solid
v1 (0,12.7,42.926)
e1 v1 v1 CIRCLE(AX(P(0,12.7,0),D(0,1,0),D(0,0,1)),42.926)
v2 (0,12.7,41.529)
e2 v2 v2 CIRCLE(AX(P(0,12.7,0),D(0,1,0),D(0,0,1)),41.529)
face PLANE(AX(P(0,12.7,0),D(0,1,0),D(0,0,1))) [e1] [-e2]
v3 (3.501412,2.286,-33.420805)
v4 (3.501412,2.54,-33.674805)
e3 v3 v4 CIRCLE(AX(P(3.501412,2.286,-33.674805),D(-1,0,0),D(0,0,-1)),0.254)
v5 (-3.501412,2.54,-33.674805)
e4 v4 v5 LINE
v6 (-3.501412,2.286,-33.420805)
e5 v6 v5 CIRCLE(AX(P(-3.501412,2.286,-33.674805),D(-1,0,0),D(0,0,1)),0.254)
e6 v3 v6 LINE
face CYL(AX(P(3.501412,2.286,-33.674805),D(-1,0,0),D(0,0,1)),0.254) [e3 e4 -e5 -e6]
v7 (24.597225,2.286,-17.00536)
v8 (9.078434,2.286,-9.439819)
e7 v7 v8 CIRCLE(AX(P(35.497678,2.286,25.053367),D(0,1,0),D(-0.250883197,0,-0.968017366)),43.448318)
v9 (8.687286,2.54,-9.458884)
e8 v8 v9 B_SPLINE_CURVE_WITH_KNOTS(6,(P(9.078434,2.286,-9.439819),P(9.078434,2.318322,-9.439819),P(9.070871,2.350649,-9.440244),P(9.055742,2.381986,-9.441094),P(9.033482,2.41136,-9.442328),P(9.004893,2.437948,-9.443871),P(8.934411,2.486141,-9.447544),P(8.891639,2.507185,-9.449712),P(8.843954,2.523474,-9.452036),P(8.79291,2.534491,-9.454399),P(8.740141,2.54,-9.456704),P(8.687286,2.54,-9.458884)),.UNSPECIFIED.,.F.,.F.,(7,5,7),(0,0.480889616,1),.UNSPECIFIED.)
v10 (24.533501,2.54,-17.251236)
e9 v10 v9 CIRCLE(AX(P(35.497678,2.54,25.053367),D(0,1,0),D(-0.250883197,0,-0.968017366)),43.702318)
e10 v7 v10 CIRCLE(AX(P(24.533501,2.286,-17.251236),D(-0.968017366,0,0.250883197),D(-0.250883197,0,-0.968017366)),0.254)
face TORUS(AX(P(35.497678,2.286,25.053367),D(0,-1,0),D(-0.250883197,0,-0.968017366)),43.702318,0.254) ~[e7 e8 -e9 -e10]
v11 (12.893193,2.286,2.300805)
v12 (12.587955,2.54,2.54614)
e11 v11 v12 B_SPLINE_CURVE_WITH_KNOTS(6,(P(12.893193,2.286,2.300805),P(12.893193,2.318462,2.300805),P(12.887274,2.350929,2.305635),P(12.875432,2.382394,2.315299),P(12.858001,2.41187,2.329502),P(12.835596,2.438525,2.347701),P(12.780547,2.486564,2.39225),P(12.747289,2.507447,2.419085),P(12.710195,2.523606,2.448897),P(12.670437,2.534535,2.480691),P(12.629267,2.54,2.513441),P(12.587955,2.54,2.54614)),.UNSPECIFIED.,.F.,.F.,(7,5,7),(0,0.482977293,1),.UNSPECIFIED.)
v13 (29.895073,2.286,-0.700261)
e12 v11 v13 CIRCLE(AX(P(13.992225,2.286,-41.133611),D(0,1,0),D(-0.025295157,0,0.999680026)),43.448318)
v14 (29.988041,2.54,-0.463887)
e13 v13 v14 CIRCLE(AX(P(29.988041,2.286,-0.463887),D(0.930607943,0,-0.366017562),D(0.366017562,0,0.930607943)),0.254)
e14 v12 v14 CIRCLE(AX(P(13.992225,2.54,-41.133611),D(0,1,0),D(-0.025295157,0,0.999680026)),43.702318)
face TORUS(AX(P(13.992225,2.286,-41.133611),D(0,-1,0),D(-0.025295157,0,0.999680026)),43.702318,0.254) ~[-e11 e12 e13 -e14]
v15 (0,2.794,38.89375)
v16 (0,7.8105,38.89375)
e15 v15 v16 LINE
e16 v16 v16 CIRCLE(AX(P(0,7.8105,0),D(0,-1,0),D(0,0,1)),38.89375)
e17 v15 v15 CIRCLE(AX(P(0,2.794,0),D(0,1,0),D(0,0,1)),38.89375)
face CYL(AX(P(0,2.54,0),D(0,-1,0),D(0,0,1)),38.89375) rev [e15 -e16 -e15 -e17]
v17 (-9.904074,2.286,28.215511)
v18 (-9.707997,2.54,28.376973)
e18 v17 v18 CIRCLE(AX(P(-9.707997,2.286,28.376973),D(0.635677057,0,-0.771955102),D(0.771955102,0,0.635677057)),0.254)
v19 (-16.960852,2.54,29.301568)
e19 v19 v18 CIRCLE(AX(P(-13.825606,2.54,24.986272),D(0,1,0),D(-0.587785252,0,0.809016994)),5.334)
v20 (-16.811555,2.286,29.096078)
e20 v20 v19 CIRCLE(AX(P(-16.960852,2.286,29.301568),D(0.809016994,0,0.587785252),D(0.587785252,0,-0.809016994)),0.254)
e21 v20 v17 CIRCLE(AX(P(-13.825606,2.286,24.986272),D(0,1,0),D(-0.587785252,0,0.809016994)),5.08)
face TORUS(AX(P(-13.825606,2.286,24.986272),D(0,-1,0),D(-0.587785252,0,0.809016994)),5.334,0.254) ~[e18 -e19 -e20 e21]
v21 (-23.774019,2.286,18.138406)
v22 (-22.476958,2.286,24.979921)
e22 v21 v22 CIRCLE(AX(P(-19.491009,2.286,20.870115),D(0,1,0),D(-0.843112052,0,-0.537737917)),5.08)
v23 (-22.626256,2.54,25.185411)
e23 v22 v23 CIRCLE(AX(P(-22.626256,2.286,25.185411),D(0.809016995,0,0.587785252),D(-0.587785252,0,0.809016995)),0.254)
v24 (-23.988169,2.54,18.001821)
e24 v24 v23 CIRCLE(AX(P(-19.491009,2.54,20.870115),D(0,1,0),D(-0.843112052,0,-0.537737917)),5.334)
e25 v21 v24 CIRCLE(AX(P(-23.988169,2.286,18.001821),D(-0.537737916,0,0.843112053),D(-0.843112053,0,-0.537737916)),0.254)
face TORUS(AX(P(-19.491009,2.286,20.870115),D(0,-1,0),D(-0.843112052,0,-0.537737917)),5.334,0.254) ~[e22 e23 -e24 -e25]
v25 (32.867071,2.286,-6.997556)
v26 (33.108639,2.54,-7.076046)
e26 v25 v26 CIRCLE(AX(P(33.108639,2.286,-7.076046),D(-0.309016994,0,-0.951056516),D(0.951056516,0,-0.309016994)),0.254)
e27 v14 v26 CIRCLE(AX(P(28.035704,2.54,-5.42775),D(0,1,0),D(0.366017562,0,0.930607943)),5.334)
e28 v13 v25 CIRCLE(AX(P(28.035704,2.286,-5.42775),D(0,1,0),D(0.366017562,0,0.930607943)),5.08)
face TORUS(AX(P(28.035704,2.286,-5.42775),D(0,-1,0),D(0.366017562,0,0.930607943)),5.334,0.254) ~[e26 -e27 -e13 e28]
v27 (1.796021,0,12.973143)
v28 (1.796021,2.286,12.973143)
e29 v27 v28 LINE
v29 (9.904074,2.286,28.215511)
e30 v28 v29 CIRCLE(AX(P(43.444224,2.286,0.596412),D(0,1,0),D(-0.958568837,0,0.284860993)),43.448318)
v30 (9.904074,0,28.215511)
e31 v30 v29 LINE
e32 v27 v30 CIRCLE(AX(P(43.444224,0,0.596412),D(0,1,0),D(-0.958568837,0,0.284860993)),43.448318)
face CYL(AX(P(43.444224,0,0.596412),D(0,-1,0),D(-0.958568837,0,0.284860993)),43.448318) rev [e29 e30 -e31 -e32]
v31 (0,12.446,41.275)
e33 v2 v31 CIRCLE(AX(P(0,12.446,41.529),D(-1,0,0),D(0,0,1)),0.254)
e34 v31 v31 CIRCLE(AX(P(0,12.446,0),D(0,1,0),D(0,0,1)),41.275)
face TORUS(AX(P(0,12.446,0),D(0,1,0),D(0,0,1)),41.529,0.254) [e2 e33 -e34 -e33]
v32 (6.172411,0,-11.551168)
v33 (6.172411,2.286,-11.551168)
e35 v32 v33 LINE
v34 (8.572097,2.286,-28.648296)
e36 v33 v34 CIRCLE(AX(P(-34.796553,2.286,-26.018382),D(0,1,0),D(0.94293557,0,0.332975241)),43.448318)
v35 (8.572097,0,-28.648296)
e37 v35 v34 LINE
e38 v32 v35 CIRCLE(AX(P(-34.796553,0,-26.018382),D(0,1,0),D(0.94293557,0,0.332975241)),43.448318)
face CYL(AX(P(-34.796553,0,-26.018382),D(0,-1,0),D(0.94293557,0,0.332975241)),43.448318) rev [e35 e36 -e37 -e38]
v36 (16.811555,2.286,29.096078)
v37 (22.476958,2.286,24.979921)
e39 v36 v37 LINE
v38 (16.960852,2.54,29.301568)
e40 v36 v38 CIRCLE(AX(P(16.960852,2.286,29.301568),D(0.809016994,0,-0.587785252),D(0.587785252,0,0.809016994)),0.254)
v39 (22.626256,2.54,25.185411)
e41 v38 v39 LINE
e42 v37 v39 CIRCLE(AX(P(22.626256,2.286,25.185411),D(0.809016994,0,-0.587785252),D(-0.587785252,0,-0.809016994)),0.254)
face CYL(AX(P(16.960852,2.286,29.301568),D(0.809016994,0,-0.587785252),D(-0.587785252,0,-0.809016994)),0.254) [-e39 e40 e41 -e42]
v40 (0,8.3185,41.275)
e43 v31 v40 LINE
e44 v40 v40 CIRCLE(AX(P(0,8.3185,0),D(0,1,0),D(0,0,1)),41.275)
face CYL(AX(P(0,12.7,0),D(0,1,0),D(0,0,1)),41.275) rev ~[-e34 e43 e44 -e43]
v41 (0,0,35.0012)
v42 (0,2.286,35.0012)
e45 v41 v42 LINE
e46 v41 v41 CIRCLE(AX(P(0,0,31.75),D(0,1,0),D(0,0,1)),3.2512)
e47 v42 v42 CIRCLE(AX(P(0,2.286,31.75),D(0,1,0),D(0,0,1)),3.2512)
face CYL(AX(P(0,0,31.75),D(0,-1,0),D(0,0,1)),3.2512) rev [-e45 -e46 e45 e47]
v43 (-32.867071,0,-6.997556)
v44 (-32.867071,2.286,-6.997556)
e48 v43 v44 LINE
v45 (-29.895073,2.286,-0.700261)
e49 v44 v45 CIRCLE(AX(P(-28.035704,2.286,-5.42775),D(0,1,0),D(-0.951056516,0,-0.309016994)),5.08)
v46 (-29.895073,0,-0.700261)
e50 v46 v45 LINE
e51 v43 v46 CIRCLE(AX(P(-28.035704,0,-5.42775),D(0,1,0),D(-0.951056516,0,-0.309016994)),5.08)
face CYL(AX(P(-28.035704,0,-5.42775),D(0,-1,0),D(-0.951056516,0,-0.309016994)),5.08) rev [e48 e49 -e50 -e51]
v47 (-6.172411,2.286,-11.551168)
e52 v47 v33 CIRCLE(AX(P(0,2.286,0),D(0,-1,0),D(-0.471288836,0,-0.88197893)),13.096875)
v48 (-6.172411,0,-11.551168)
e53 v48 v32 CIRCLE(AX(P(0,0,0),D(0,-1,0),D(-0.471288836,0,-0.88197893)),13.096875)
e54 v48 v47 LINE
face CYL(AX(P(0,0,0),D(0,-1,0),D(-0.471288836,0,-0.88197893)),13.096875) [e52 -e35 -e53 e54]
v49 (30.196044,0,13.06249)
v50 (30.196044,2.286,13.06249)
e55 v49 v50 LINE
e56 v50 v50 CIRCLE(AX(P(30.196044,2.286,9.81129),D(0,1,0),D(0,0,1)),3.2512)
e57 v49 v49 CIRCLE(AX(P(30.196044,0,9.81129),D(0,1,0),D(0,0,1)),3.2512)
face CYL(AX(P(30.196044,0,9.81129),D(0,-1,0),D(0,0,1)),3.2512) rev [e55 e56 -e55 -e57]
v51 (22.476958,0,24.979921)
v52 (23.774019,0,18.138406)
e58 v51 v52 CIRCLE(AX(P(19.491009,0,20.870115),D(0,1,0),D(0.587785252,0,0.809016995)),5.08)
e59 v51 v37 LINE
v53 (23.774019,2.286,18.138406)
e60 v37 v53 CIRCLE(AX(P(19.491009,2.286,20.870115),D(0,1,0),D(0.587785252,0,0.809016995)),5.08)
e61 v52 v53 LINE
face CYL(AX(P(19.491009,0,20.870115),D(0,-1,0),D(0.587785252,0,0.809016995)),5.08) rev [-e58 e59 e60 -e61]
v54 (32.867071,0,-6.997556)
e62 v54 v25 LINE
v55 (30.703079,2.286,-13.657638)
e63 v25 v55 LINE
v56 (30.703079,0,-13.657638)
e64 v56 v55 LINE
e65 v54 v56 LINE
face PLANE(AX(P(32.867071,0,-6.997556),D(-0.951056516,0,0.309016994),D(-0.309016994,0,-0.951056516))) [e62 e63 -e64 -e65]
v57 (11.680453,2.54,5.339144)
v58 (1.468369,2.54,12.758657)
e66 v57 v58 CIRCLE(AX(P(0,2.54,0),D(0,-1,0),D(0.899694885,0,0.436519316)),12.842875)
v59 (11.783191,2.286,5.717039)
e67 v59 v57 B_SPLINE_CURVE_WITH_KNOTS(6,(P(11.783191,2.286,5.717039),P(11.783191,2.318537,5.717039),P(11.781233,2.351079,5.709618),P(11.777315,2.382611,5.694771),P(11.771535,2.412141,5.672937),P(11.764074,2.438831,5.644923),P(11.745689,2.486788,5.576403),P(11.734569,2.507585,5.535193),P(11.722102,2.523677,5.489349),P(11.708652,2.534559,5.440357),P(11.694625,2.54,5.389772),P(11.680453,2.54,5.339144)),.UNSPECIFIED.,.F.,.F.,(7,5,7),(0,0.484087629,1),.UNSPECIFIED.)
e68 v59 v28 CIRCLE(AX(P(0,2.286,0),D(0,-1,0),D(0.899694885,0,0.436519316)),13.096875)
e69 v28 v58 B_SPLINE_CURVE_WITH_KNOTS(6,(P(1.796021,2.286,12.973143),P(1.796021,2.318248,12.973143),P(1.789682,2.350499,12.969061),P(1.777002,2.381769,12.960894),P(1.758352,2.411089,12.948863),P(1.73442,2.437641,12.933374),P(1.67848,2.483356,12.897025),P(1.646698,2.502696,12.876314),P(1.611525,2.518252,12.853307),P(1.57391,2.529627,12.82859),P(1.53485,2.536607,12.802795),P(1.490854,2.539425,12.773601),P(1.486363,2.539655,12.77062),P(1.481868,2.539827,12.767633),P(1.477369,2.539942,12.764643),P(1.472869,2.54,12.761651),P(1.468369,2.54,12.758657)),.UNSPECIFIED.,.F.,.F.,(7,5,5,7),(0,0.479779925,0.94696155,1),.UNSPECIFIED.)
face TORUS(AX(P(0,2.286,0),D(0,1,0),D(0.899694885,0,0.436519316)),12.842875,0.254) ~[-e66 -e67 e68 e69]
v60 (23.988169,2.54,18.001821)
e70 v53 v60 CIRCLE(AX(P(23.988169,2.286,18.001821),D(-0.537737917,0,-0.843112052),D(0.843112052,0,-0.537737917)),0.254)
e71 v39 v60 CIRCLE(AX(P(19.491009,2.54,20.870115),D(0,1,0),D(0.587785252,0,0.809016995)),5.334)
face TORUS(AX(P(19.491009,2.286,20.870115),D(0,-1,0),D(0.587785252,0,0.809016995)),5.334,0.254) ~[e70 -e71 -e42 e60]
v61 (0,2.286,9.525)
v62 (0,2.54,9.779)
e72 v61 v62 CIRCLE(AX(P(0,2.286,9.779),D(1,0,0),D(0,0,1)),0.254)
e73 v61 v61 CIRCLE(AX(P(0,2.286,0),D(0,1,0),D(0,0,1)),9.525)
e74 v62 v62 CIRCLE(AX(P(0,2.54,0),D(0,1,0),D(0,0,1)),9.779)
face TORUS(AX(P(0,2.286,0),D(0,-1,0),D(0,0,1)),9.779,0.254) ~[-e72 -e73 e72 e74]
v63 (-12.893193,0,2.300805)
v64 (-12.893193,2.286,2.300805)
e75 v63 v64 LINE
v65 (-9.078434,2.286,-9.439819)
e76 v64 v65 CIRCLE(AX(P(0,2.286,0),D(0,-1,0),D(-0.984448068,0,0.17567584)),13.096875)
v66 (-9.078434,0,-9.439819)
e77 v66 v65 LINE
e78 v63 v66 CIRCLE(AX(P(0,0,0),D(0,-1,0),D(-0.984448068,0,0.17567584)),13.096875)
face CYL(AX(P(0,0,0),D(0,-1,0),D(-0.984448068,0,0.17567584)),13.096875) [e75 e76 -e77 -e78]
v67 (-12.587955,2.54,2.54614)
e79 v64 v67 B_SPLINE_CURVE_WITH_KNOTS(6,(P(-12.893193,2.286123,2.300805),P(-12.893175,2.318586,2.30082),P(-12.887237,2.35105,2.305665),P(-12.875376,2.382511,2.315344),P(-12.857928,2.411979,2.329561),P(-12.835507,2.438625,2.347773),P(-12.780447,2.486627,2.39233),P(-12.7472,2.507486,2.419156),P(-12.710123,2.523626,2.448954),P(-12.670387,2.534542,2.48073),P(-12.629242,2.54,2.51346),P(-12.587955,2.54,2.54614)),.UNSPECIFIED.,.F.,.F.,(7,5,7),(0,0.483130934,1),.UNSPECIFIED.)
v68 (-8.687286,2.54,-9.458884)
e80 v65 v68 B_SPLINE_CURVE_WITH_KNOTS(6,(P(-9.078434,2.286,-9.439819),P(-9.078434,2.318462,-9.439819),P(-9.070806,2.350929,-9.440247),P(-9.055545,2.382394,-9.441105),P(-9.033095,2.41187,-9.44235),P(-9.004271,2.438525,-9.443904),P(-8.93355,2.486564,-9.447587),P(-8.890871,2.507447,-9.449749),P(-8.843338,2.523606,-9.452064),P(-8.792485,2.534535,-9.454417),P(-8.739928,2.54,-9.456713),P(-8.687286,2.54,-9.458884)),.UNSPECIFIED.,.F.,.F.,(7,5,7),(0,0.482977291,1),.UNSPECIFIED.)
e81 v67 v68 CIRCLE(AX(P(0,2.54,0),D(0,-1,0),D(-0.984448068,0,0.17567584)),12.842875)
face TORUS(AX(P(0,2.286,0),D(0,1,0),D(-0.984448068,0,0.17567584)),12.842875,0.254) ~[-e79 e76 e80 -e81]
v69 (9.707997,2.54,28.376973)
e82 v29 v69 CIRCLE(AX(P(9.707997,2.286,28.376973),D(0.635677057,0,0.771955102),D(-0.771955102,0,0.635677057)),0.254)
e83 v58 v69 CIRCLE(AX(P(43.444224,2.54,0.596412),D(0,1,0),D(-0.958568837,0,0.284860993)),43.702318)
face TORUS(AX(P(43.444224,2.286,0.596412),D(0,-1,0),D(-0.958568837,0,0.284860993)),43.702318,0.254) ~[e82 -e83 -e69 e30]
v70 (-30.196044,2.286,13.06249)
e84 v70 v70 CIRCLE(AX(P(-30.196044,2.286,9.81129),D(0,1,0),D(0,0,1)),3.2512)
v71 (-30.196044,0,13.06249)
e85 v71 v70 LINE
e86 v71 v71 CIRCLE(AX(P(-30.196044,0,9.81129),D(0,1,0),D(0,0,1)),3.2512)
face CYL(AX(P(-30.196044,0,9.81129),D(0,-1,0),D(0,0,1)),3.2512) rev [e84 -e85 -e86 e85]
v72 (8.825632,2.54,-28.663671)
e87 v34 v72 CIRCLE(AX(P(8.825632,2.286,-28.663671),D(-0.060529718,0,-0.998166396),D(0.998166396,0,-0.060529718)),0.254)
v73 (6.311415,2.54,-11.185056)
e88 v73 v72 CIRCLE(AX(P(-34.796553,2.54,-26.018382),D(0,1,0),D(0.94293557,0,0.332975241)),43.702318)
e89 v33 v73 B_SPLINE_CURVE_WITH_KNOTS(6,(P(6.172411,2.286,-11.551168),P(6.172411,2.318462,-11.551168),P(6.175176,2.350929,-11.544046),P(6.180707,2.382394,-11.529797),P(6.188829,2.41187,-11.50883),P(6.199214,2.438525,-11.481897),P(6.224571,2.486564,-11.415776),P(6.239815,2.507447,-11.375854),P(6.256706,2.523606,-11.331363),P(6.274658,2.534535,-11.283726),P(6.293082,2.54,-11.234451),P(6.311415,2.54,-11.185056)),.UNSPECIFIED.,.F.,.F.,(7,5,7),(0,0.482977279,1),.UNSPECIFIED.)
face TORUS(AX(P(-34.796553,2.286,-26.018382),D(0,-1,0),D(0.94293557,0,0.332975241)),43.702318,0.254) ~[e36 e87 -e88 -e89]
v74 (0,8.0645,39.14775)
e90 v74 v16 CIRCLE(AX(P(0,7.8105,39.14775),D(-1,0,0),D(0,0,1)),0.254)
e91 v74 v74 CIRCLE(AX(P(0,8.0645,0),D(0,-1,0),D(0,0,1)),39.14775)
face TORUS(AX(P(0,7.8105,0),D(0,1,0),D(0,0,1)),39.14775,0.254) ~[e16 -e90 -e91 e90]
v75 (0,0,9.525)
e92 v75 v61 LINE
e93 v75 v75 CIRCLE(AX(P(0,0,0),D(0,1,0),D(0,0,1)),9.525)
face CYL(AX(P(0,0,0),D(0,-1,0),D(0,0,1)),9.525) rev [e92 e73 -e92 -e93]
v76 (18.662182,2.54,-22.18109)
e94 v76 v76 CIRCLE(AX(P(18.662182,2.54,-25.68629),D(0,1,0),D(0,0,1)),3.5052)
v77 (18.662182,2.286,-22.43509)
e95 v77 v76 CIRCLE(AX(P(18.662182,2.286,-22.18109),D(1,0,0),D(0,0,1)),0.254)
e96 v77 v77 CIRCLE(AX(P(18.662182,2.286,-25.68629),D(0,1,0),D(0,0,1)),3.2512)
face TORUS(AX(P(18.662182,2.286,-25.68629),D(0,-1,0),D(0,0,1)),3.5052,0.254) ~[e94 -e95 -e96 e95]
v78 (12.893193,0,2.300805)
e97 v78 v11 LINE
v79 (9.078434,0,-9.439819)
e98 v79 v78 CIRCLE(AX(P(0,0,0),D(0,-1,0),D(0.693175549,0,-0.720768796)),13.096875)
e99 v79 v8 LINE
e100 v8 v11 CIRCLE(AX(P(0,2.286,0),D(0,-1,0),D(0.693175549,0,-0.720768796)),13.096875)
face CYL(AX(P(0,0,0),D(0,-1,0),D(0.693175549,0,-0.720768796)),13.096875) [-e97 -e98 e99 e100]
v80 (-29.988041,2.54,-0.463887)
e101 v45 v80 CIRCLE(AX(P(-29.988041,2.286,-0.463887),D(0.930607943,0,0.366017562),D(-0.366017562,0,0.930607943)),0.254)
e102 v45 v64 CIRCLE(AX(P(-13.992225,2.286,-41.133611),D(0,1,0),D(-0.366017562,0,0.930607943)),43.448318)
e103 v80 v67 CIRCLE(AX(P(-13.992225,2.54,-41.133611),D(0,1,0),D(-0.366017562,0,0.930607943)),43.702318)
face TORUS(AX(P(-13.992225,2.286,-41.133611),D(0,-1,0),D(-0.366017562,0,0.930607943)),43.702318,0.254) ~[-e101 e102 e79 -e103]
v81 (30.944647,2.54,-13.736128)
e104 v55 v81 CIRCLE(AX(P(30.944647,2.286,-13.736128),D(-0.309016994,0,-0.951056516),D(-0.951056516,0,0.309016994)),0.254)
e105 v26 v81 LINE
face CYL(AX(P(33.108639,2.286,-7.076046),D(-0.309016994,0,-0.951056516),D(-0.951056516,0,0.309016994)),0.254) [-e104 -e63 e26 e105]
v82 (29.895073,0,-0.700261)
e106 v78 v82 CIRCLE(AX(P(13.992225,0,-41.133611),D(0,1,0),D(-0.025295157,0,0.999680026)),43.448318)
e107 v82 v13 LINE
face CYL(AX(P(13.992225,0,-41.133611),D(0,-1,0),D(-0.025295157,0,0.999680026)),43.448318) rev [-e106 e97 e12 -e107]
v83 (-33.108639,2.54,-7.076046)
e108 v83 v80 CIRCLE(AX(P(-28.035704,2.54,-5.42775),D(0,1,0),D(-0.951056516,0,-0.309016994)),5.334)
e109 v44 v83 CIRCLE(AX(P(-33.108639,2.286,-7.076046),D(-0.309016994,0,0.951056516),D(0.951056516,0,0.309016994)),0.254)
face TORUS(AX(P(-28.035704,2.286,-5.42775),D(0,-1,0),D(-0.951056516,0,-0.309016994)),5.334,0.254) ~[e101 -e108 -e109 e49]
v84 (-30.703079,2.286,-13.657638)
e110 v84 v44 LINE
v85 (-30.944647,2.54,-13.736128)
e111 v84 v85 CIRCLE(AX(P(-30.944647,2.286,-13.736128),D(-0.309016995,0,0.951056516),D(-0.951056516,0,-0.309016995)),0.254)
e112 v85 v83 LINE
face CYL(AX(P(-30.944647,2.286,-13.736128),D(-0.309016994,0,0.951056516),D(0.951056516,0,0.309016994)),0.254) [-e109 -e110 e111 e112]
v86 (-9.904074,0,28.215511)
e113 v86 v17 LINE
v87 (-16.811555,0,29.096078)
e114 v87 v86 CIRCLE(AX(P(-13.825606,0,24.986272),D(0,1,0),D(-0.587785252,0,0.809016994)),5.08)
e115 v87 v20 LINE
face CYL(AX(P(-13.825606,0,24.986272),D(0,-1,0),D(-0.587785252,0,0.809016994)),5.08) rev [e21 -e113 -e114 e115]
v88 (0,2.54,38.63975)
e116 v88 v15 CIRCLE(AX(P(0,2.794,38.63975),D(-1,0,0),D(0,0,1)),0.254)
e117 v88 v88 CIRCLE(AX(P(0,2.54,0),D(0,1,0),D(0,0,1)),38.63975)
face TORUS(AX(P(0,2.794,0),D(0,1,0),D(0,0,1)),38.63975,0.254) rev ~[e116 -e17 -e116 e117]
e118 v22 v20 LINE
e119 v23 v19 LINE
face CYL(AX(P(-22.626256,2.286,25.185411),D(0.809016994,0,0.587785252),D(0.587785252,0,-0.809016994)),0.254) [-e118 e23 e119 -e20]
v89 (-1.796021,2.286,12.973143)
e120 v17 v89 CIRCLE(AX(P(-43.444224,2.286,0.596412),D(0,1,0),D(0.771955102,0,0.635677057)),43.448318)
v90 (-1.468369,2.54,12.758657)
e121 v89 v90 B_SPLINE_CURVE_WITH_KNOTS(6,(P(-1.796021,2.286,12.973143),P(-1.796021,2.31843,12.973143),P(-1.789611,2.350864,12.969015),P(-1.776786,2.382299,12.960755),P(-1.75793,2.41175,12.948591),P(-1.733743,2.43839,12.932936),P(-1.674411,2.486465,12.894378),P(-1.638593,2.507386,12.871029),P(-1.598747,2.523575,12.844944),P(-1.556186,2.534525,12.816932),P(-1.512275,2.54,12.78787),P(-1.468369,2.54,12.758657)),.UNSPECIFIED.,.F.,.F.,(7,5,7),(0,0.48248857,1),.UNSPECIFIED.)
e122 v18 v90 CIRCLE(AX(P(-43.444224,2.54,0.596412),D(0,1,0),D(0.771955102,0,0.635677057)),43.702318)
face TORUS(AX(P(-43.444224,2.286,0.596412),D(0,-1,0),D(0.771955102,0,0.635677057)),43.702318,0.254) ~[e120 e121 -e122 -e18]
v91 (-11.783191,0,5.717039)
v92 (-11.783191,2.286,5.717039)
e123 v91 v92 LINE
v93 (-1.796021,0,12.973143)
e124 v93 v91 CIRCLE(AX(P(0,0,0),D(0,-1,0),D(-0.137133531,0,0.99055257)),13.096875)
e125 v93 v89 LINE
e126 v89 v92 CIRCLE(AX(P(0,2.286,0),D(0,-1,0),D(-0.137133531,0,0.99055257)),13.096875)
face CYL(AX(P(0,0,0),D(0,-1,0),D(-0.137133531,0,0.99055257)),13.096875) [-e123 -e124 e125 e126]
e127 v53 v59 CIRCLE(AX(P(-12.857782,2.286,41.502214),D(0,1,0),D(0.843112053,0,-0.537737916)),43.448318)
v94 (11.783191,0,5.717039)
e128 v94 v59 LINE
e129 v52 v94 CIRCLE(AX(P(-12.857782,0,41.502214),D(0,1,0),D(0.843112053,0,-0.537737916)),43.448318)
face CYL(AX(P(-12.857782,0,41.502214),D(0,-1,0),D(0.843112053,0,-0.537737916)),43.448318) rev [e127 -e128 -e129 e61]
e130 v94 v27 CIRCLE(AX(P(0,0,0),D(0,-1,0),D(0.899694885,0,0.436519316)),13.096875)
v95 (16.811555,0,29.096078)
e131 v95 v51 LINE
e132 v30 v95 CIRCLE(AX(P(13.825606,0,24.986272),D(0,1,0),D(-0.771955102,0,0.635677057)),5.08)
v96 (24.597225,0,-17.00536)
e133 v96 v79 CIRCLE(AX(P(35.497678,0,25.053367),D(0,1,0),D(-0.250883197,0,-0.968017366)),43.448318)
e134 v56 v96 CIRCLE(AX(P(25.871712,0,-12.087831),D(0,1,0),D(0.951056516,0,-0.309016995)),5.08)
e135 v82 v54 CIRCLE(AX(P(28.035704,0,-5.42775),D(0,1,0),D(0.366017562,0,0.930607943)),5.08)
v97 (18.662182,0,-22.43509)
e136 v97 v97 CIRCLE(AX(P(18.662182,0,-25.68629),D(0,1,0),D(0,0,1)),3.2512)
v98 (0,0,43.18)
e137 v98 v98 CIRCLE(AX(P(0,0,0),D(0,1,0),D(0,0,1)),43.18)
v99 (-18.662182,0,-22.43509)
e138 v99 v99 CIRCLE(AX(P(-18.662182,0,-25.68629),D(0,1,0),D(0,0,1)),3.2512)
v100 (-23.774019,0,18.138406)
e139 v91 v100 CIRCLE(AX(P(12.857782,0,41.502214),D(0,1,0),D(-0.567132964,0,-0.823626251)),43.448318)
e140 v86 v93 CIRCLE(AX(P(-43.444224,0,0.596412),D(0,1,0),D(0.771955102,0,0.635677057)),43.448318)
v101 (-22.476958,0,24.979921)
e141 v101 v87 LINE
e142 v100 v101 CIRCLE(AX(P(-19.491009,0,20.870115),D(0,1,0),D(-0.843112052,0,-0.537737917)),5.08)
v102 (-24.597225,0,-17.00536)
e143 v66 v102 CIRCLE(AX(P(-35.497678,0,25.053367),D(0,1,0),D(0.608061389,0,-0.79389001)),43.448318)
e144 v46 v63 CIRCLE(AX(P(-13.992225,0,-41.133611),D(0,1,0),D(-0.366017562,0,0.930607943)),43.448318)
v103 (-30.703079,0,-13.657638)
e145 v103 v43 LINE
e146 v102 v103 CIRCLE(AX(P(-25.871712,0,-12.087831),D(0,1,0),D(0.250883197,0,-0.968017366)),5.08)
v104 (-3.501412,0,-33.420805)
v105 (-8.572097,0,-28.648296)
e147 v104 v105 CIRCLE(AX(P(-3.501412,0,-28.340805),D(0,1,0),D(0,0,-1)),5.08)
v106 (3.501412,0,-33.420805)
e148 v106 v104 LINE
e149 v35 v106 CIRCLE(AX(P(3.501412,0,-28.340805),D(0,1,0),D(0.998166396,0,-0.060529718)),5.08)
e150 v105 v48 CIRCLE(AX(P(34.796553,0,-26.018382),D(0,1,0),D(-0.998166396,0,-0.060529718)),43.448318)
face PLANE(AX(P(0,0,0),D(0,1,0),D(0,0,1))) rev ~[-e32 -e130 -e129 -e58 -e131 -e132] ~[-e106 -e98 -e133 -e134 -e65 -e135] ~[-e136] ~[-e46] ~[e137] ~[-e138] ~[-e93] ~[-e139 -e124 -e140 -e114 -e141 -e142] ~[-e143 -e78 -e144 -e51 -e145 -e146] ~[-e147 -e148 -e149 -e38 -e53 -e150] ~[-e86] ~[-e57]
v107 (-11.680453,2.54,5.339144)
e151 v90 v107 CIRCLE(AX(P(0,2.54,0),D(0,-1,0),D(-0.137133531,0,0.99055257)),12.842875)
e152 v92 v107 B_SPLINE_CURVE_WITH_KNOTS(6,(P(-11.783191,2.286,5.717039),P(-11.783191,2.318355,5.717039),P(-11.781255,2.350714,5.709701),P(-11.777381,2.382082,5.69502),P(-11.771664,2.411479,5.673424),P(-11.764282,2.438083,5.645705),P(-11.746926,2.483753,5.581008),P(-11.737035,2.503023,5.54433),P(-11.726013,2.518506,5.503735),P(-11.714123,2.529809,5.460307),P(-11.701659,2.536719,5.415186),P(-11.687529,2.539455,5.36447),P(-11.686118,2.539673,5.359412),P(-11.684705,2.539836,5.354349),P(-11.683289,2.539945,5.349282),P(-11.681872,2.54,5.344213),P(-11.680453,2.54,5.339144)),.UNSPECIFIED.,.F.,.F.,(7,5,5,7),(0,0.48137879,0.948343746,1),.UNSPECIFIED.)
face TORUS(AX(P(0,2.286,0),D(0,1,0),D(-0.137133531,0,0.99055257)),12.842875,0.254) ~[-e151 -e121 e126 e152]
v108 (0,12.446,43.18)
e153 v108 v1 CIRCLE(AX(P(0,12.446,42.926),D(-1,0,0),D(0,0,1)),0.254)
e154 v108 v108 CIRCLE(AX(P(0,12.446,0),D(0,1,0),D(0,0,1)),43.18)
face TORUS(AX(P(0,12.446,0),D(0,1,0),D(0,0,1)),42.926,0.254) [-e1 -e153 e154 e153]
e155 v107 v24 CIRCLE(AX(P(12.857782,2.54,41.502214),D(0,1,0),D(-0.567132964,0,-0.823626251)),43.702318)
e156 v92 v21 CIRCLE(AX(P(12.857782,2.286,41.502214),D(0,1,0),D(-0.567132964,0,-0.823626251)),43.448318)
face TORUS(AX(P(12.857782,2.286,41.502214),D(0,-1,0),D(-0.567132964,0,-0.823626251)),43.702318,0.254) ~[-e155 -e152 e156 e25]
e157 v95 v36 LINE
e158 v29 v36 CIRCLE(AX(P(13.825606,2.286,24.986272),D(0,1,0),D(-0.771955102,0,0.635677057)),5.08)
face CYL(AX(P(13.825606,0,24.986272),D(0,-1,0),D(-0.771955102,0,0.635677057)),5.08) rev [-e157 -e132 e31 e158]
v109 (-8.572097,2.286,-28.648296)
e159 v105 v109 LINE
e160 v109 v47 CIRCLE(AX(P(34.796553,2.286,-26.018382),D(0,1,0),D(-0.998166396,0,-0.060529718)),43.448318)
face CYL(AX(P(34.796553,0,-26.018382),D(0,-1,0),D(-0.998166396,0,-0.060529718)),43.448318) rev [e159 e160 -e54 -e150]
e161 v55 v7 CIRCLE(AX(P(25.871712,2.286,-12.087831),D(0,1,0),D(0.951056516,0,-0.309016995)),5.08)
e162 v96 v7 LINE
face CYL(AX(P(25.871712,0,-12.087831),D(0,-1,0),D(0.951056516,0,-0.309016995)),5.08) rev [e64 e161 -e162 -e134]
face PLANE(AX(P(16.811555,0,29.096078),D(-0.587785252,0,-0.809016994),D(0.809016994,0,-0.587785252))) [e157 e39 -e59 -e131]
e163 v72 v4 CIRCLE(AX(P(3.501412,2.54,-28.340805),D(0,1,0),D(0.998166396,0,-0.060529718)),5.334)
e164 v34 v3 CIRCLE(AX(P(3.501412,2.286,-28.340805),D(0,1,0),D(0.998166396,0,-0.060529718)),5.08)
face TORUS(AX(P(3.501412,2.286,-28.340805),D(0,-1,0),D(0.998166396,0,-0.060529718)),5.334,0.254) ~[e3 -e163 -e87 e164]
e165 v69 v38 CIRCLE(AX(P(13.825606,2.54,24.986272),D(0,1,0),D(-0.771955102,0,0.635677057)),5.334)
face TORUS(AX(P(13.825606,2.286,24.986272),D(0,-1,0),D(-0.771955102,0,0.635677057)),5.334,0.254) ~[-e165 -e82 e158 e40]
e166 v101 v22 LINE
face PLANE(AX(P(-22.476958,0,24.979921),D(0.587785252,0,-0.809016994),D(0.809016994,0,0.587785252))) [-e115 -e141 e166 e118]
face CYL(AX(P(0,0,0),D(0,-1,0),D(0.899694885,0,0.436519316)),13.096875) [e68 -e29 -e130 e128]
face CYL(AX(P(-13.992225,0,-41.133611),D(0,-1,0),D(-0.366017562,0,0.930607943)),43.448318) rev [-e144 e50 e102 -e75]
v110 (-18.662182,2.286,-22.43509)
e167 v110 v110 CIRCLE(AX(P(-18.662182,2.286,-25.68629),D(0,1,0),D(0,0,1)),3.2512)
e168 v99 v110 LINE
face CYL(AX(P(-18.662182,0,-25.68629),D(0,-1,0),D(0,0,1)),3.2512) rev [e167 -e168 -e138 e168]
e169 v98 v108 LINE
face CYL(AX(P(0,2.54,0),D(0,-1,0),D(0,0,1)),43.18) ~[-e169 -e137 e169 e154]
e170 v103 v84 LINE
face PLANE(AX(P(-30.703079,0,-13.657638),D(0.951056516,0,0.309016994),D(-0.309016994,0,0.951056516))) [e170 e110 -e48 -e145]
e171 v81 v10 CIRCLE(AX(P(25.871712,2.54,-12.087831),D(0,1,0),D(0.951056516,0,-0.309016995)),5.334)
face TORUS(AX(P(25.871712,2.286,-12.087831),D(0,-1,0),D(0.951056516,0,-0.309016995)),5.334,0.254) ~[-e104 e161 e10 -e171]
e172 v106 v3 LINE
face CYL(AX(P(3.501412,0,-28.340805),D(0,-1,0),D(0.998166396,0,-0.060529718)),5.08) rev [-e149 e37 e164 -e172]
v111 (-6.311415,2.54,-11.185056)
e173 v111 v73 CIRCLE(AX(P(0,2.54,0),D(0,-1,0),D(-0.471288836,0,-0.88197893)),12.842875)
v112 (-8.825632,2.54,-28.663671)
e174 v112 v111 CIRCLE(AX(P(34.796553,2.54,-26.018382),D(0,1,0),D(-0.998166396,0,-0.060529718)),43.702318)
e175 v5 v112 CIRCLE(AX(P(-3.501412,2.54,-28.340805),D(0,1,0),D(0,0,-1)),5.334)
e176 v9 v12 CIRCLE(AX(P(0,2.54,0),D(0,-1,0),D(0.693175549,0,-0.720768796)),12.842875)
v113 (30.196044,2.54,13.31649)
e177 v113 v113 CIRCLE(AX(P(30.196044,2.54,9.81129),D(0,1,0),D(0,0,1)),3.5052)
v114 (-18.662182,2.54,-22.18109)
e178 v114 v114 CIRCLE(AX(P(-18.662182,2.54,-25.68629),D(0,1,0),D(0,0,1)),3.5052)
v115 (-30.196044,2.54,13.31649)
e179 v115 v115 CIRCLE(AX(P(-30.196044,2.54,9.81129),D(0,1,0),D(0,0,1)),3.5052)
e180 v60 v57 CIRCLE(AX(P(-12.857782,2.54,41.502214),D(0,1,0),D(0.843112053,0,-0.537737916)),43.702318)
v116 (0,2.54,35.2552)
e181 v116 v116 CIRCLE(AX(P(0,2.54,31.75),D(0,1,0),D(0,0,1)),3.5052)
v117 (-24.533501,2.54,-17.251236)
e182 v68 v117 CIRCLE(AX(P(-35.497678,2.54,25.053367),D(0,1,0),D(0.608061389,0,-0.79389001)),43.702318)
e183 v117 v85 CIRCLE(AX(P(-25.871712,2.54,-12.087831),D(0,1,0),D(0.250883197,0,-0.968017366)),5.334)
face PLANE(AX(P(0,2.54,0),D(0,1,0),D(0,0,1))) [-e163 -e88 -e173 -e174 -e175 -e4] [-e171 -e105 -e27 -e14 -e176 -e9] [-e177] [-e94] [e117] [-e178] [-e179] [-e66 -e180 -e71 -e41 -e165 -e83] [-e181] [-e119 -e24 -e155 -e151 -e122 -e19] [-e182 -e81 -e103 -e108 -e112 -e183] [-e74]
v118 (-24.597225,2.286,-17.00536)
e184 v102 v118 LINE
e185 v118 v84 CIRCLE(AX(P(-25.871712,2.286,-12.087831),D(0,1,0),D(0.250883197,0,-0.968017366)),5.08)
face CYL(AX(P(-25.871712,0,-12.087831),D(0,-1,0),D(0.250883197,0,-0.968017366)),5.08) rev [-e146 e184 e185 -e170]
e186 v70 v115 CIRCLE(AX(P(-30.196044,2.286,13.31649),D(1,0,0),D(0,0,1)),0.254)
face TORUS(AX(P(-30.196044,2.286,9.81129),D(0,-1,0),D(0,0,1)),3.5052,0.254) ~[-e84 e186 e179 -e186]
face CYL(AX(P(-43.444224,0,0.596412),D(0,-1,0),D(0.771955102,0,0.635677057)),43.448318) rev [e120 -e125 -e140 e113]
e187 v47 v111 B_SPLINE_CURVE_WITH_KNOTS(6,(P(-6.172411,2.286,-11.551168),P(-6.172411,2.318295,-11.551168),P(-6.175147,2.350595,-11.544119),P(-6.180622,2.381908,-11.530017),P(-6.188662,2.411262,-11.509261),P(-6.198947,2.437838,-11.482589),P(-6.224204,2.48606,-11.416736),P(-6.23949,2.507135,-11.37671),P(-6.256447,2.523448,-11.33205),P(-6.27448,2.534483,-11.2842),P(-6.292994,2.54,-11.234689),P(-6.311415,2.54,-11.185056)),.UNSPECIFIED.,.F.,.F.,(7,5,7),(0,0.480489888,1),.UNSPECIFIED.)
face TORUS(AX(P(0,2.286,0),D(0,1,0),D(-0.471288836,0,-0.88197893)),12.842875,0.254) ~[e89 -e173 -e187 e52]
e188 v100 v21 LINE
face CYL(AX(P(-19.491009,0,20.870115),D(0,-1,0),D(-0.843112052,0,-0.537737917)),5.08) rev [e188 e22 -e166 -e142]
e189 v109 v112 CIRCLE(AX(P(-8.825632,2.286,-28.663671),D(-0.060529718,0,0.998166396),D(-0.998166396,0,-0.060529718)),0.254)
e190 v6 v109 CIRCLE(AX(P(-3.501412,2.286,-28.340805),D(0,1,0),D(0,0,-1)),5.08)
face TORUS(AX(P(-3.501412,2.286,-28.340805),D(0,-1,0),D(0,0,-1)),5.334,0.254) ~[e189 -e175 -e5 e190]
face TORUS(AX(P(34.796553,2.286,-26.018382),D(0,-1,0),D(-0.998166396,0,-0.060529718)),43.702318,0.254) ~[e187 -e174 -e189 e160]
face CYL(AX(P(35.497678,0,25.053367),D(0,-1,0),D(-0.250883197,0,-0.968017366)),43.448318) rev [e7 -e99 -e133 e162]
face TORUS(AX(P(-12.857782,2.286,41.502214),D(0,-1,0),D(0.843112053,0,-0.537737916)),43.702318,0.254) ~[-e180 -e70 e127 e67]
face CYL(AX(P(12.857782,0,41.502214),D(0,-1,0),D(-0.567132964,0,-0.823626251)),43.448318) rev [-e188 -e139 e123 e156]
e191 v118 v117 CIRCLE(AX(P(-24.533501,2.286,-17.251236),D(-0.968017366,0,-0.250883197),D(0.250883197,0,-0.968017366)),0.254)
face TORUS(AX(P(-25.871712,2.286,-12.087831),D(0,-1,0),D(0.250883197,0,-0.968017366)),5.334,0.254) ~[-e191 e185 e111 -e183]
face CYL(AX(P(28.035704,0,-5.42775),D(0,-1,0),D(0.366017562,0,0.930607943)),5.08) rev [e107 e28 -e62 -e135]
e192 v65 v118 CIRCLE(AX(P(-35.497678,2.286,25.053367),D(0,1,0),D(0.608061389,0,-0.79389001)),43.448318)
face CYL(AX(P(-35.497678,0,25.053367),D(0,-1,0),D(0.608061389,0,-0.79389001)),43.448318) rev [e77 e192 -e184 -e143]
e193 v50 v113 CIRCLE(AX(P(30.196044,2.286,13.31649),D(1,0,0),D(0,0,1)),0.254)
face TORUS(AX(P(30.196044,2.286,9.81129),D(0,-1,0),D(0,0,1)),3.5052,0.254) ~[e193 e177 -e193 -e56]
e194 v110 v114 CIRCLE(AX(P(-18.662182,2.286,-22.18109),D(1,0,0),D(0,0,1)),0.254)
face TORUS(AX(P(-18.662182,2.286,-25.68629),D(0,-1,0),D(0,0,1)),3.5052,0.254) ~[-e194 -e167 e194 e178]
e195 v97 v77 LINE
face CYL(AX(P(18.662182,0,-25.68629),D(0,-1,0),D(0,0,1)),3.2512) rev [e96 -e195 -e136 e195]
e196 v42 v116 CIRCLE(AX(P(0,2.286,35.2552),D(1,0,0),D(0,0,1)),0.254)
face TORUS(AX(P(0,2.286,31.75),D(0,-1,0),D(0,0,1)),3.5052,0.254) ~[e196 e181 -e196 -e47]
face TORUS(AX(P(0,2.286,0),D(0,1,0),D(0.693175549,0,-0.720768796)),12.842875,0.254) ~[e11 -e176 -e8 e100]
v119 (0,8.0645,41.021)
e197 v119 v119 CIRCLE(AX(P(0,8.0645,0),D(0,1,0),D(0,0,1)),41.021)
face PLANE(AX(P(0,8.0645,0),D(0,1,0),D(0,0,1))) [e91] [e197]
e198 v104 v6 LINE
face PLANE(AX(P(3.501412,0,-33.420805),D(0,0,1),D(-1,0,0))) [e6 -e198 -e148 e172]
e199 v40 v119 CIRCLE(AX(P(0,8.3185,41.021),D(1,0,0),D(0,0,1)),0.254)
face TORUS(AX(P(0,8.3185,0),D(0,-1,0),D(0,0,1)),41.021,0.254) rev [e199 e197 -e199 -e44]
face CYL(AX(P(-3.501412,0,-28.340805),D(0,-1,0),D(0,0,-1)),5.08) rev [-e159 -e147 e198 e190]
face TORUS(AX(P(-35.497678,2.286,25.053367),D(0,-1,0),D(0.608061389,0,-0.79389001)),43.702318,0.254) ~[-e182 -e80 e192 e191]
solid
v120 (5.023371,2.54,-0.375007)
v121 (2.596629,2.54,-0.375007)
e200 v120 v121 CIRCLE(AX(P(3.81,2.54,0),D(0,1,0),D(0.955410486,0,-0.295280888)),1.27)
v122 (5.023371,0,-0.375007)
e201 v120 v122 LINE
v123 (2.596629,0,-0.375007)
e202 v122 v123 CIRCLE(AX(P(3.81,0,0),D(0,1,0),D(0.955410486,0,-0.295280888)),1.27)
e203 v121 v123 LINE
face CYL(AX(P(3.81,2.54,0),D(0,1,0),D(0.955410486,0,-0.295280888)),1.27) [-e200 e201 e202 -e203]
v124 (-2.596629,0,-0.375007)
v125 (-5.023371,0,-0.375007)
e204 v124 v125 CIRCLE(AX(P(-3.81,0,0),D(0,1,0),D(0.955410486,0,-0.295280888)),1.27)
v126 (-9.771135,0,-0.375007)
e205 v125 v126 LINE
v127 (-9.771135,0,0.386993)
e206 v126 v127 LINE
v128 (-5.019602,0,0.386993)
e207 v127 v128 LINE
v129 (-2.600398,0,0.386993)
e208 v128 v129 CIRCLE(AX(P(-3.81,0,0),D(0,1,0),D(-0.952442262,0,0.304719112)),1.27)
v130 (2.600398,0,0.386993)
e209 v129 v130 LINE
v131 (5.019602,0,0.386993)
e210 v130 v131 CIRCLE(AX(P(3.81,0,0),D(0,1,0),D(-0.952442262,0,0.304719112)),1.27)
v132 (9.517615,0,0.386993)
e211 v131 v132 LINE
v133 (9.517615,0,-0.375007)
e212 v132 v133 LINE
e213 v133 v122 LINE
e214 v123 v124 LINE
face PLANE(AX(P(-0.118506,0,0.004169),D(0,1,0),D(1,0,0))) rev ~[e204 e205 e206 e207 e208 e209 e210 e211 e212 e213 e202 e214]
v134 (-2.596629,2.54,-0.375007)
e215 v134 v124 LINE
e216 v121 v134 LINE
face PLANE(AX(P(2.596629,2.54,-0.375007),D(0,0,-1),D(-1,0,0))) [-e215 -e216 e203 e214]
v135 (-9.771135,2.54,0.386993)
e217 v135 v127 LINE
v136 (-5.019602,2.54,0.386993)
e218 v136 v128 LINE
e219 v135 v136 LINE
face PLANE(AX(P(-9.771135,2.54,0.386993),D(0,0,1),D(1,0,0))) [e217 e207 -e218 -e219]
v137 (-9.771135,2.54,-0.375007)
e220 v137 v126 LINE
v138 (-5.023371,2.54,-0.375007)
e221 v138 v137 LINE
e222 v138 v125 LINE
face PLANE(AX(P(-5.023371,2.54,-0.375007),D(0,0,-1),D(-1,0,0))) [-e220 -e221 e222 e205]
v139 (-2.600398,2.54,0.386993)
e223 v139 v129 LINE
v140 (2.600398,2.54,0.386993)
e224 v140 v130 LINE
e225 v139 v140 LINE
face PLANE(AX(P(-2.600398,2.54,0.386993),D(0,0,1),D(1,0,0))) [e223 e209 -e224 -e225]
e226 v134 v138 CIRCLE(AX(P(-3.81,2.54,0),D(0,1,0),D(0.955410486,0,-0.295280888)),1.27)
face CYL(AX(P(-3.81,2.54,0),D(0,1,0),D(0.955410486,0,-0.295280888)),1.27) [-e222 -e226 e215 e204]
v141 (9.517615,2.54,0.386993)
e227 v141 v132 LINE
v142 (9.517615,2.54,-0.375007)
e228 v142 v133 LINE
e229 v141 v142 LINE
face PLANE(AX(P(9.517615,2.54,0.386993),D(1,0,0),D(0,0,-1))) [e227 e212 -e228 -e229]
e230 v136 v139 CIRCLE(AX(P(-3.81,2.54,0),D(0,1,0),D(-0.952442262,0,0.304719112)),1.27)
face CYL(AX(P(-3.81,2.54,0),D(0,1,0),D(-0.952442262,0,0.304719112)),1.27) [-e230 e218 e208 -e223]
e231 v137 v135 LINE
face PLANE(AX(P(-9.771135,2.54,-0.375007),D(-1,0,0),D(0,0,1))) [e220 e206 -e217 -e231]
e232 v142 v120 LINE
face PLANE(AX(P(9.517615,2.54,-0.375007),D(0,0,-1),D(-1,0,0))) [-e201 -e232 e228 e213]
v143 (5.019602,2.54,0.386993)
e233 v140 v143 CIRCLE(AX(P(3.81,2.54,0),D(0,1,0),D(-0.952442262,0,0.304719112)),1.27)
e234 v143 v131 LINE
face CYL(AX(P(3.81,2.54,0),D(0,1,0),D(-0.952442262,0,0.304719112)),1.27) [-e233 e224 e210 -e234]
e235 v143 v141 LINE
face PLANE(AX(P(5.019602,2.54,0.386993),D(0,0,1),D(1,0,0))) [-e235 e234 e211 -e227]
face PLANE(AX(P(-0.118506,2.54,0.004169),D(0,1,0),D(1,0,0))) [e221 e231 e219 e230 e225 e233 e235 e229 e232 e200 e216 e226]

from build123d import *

# Parameters (mm, degrees)
SKETCH1_R                   = 43.18
SKETCH1_R_2                 = 9.525
SKETCH1_R_3                 = 3.2512
Y_KSEKLIK_EKSTR_ZYON1_DEPTH = 2.54
IZIM1_R                     = 43.18
IZIM1_R_2                   = 38.89375
Y_KSEKLIK_EKSTR_ZYON2_DEPTH = 10.16
IZIM2_R                     = 41.275
KES_EKSTR_ZYON2_DEPTH       = 4.6355
RADYUS1_R                   = 0.254
Y_KSEKLIK_EKSTR_ZYON3_DEPTH = 2.54


with BuildPart() as part:
    # Sketch1 → Yükseklik-Ekstrüzyon1 (new body)
    with BuildSketch(Plane(origin=(0, 0, 0), x_dir=(1, 0, 0), z_dir=(0, 1, 0))):
        with Locations(Location((0, 0, 0), (0, 0, 270))):
            Circle(SKETCH1_R)
        with Locations(Location((0, 0, 0), (0, 0, 270))):
            Circle(SKETCH1_R_2, mode=Mode.SUBTRACT)
        with Locations(Location((-18.66218176, 25.686289571, 0), (0, 0, 270))):
            Circle(SKETCH1_R_3, mode=Mode.SUBTRACT)
        with Locations(Location((-30.196044392, -9.811289571, 0), (0, 0, 270))):
            Circle(SKETCH1_R_3, mode=Mode.SUBTRACT)
        with Locations(Location((0, -31.75, 0), (0, 0, 270))):
            Circle(SKETCH1_R_3, mode=Mode.SUBTRACT)
        with Locations(Location((30.196044392, -9.811289571, 0), (0, 0, 270))):
            Circle(SKETCH1_R_3, mode=Mode.SUBTRACT)
        with Locations(Location((18.66218176, 25.686289571, 0), (0, 0, 270))):
            Circle(SKETCH1_R_3, mode=Mode.SUBTRACT)
        with BuildLine():
            ThreePointArc((-9.078433521, 9.439818832), (-16.458263517, 14.001172393), (-24.59722515, 17.005359577))
            ThreePointArc((-24.59722515, 17.005359577), (-28.313977156, 16.542238149), (-30.703078893, 13.657637687))
            Line((-30.703078893, 13.657637687), (-32.867070618, 6.997555981))
            ThreePointArc((-32.867070618, 6.997555981), (-32.629772322, 3.259586418), (-29.89507273, 0.700261297))
            ThreePointArc((-29.89507273, 0.700261297), (-21.544697531, -1.653261833), (-12.893193294, -2.300804521))
            ThreePointArc((-12.893193294, -2.300804521), (-12.455868312, 4.047156948), (-9.078433521, 9.439818832))
        make_face(mode=Mode.SUBTRACT)
        with BuildLine():
            ThreePointArc((-11.783191453, -5.717038915), (-18.401789365, -11.326138555), (-23.774018623, -18.138406157))
            ThreePointArc((-23.774018623, -18.138406157), (-24.482103506, -21.816359764), (-22.476958477, -24.979921103))
            Line((-22.476958477, -24.979921103), (-16.81155459, -29.096077965))
            ThreePointArc((-16.81155459, -29.096077965), (-13.183205074, -30.025489994), (-9.904073592, -28.215511083))
            ThreePointArc((-9.904073592, -28.215511083), (-5.085332236, -21.001110981), (-1.796020707, -12.973143196))
            ThreePointArc((-1.796020707, -12.973143196), (-7.698149976, -10.595594448), (-11.783191453, -5.717038915))
        make_face(mode=Mode.SUBTRACT)
        with BuildLine():
            ThreePointArc((1.796020707, -12.973143196), (5.085332236, -21.001110981), (9.904073592, -28.215511083))
            ThreePointArc((9.904073592, -28.215511083), (13.183205074, -30.025489994), (16.81155459, -29.096077965))
            Line((16.81155459, -29.096077965), (22.476958477, -24.979921103))
            ThreePointArc((22.476958477, -24.979921103), (24.482103506, -21.816359764), (23.774018623, -18.138406157))
            ThreePointArc((23.774018623, -18.138406157), (18.401789365, -11.326138555), (11.783191453, -5.717038915))
            ThreePointArc((11.783191453, -5.717038915), (7.698149976, -10.595594448), (1.796020707, -12.973143196))
        make_face(mode=Mode.SUBTRACT)
        with BuildLine():
            ThreePointArc((-8.572097452, 28.648296366), (-8.230023115, 19.979338976), (-6.172410972, 11.5511678))
            ThreePointArc((-6.172410972, 11.5511678), (0, 13.096875), (6.172410972, 11.5511678))
            ThreePointArc((6.172410972, 11.5511678), (8.230023115, 19.979338976), (8.572097452, 28.648296366))
            ThreePointArc((8.572097452, 28.648296366), (6.983103266, 32.04002519), (3.501412162, 33.4208054))
            Line((3.501412162, 33.4208054), (-3.501412162, 33.4208054))
            ThreePointArc((-3.501412162, 33.4208054), (-6.983103266, 32.04002519), (-8.572097452, 28.648296366))
        make_face(mode=Mode.SUBTRACT)
        with BuildLine():
            ThreePointArc((12.893193294, -2.300804521), (21.544697531, -1.653261833), (29.89507273, 0.700261297))
            ThreePointArc((29.89507273, 0.700261297), (32.629772322, 3.259586418), (32.867070618, 6.997555981))
            Line((32.867070618, 6.997555981), (30.703078893, 13.657637687))
            ThreePointArc((30.703078893, 13.657637687), (28.313977156, 16.542238149), (24.59722515, 17.005359577))
            ThreePointArc((24.59722515, 17.005359577), (16.458263517, 14.001172393), (9.078433521, 9.439818832))
            ThreePointArc((9.078433521, 9.439818832), (12.455868312, 4.047156948), (12.893193294, -2.300804521))
        make_face(mode=Mode.SUBTRACT)
    extrude(amount=Y_KSEKLIK_EKSTR_ZYON1_DEPTH)

    # Çizim1 → Yükseklik-Ekstrüzyon2 (add)
    with BuildSketch(Plane(origin=(0, 2.54, 0), x_dir=(1, 0, 0), z_dir=(0, 1, 0))):
        with Locations(Location((0, 0, 0), (0, 0, 270))):
            Circle(IZIM1_R)
        with Locations(Location((0, 0, 0), (0, 0, 270))):
            Circle(IZIM1_R_2, mode=Mode.SUBTRACT)
    extrude(amount=Y_KSEKLIK_EKSTR_ZYON2_DEPTH)

    # Çizim2 → Kes-Ekstrüzyon2 (cut)
    with BuildSketch(Plane(origin=(0, 12.7, 0), x_dir=(1, 0, 0), z_dir=(0, 1, 0))):
        with Locations(Location((0, 0, 0), (0, 0, 270))):
            Circle(IZIM2_R)
    extrude(amount=-KES_EKSTR_ZYON2_DEPTH, mode=Mode.SUBTRACT)

    # Radyus1
    radyus1_edges = [part.edges().sort_by_distance(p)[0] for p in [
        (13.183205074, 2.54, 30.025489994),
        (-8.230023115, 2.54, -19.979338976),
        (0, 2.54, -38.89375),
        (0, 12.7, -43.18),
        (-6.983103266, 2.54, -32.04002519),
        (0, 2.54, -33.4208054),
        (0, 8.0645, -41.275),
        (0, 8.0645, -38.89375),
        (0, 12.7, -41.275),
        (6.983103266, 2.54, -32.04002519),
        (8.230023115, 2.54, -19.979338976),
        (0, 2.54, -13.096875),
        (0, 2.54, -9.525),
        (-18.66218176, 2.54, -28.937489571),
        (-30.196044392, 2.54, 6.560089571),
        (0, 2.54, 28.4988),
        (30.196044392, 2.54, 6.560089571),
        (18.66218176, 2.54, -28.937489571),
        (-16.458263517, 2.54, -14.001172393),
        (21.544697531, 2.54, 1.653261833),
        (12.455868312, 2.54, -4.047156948),
        (16.458263517, 2.54, -14.001172393),
        (28.313977156, 2.54, -16.542238149),
        (31.785074755, 2.54, -10.327596834),
        (32.629772322, 2.54, -3.259586418),
        (-12.455868312, 2.54, -4.047156948),
        (-21.544697531, 2.54, 1.653261833),
        (-32.629772322, 2.54, -3.259586418),
        (-31.785074755, 2.54, -10.327596834),
        (-28.313977156, 2.54, -16.542238149),
        (-18.401789365, 2.54, 11.326138555),
        (-7.698149976, 2.54, 10.595594448),
        (-5.085332236, 2.54, 21.001110981),
        (-13.183205074, 2.54, 30.025489994),
        (-19.644256534, 2.54, 27.037999534),
        (-24.482103506, 2.54, 21.816359764),
        (5.085332236, 2.54, 21.001110981),
        (7.698149976, 2.54, 10.595594448),
        (18.401789365, 2.54, 11.326138555),
        (24.482103506, 2.54, 21.816359764),
        (19.644256534, 2.54, 27.037999534),
    ]]
    fillet(radyus1_edges, radius=RADYUS1_R)


with BuildPart() as body_2:
    # Çizim3 → Yükseklik-Ekstrüzyon3 (new body)
    with BuildSketch(Plane(origin=(0, 2.54, 0), x_dir=(1, 0, 0), z_dir=(0, 1, 0))):
        with BuildLine():
            Line((-9.771135137, -0.386993272), (-5.019601673, -0.386993272))
            ThreePointArc((-5.019601673, -0.386993272), (-3.81, -1.27), (-2.600398327, -0.386993272))
            Line((-2.600398327, -0.386993272), (2.600398327, -0.386993272))
            ThreePointArc((2.600398327, -0.386993272), (3.81, -1.27), (5.019601673, -0.386993272))
            Line((5.019601673, -0.386993272), (9.517614982, -0.386993272))
            Line((9.517614982, -0.386993272), (9.517614982, 0.375006728))
            Line((9.517614982, 0.375006728), (5.023371317, 0.375006728))
            ThreePointArc((5.023371317, 0.375006728), (3.81, 1.27), (2.596628683, 0.375006728))
            Line((2.596628683, 0.375006728), (-2.596628683, 0.375006728))
            ThreePointArc((-2.596628683, 0.375006728), (-3.81, 1.27), (-5.023371317, 0.375006728))
            Line((-5.023371317, 0.375006728), (-9.771135137, 0.375006728))
            Line((-9.771135137, 0.375006728), (-9.771135137, -0.386993272))
        make_face()
    extrude(amount=-Y_KSEKLIK_EKSTR_ZYON3_DEPTH)


solid = Compound([part.part, body_2.part])
